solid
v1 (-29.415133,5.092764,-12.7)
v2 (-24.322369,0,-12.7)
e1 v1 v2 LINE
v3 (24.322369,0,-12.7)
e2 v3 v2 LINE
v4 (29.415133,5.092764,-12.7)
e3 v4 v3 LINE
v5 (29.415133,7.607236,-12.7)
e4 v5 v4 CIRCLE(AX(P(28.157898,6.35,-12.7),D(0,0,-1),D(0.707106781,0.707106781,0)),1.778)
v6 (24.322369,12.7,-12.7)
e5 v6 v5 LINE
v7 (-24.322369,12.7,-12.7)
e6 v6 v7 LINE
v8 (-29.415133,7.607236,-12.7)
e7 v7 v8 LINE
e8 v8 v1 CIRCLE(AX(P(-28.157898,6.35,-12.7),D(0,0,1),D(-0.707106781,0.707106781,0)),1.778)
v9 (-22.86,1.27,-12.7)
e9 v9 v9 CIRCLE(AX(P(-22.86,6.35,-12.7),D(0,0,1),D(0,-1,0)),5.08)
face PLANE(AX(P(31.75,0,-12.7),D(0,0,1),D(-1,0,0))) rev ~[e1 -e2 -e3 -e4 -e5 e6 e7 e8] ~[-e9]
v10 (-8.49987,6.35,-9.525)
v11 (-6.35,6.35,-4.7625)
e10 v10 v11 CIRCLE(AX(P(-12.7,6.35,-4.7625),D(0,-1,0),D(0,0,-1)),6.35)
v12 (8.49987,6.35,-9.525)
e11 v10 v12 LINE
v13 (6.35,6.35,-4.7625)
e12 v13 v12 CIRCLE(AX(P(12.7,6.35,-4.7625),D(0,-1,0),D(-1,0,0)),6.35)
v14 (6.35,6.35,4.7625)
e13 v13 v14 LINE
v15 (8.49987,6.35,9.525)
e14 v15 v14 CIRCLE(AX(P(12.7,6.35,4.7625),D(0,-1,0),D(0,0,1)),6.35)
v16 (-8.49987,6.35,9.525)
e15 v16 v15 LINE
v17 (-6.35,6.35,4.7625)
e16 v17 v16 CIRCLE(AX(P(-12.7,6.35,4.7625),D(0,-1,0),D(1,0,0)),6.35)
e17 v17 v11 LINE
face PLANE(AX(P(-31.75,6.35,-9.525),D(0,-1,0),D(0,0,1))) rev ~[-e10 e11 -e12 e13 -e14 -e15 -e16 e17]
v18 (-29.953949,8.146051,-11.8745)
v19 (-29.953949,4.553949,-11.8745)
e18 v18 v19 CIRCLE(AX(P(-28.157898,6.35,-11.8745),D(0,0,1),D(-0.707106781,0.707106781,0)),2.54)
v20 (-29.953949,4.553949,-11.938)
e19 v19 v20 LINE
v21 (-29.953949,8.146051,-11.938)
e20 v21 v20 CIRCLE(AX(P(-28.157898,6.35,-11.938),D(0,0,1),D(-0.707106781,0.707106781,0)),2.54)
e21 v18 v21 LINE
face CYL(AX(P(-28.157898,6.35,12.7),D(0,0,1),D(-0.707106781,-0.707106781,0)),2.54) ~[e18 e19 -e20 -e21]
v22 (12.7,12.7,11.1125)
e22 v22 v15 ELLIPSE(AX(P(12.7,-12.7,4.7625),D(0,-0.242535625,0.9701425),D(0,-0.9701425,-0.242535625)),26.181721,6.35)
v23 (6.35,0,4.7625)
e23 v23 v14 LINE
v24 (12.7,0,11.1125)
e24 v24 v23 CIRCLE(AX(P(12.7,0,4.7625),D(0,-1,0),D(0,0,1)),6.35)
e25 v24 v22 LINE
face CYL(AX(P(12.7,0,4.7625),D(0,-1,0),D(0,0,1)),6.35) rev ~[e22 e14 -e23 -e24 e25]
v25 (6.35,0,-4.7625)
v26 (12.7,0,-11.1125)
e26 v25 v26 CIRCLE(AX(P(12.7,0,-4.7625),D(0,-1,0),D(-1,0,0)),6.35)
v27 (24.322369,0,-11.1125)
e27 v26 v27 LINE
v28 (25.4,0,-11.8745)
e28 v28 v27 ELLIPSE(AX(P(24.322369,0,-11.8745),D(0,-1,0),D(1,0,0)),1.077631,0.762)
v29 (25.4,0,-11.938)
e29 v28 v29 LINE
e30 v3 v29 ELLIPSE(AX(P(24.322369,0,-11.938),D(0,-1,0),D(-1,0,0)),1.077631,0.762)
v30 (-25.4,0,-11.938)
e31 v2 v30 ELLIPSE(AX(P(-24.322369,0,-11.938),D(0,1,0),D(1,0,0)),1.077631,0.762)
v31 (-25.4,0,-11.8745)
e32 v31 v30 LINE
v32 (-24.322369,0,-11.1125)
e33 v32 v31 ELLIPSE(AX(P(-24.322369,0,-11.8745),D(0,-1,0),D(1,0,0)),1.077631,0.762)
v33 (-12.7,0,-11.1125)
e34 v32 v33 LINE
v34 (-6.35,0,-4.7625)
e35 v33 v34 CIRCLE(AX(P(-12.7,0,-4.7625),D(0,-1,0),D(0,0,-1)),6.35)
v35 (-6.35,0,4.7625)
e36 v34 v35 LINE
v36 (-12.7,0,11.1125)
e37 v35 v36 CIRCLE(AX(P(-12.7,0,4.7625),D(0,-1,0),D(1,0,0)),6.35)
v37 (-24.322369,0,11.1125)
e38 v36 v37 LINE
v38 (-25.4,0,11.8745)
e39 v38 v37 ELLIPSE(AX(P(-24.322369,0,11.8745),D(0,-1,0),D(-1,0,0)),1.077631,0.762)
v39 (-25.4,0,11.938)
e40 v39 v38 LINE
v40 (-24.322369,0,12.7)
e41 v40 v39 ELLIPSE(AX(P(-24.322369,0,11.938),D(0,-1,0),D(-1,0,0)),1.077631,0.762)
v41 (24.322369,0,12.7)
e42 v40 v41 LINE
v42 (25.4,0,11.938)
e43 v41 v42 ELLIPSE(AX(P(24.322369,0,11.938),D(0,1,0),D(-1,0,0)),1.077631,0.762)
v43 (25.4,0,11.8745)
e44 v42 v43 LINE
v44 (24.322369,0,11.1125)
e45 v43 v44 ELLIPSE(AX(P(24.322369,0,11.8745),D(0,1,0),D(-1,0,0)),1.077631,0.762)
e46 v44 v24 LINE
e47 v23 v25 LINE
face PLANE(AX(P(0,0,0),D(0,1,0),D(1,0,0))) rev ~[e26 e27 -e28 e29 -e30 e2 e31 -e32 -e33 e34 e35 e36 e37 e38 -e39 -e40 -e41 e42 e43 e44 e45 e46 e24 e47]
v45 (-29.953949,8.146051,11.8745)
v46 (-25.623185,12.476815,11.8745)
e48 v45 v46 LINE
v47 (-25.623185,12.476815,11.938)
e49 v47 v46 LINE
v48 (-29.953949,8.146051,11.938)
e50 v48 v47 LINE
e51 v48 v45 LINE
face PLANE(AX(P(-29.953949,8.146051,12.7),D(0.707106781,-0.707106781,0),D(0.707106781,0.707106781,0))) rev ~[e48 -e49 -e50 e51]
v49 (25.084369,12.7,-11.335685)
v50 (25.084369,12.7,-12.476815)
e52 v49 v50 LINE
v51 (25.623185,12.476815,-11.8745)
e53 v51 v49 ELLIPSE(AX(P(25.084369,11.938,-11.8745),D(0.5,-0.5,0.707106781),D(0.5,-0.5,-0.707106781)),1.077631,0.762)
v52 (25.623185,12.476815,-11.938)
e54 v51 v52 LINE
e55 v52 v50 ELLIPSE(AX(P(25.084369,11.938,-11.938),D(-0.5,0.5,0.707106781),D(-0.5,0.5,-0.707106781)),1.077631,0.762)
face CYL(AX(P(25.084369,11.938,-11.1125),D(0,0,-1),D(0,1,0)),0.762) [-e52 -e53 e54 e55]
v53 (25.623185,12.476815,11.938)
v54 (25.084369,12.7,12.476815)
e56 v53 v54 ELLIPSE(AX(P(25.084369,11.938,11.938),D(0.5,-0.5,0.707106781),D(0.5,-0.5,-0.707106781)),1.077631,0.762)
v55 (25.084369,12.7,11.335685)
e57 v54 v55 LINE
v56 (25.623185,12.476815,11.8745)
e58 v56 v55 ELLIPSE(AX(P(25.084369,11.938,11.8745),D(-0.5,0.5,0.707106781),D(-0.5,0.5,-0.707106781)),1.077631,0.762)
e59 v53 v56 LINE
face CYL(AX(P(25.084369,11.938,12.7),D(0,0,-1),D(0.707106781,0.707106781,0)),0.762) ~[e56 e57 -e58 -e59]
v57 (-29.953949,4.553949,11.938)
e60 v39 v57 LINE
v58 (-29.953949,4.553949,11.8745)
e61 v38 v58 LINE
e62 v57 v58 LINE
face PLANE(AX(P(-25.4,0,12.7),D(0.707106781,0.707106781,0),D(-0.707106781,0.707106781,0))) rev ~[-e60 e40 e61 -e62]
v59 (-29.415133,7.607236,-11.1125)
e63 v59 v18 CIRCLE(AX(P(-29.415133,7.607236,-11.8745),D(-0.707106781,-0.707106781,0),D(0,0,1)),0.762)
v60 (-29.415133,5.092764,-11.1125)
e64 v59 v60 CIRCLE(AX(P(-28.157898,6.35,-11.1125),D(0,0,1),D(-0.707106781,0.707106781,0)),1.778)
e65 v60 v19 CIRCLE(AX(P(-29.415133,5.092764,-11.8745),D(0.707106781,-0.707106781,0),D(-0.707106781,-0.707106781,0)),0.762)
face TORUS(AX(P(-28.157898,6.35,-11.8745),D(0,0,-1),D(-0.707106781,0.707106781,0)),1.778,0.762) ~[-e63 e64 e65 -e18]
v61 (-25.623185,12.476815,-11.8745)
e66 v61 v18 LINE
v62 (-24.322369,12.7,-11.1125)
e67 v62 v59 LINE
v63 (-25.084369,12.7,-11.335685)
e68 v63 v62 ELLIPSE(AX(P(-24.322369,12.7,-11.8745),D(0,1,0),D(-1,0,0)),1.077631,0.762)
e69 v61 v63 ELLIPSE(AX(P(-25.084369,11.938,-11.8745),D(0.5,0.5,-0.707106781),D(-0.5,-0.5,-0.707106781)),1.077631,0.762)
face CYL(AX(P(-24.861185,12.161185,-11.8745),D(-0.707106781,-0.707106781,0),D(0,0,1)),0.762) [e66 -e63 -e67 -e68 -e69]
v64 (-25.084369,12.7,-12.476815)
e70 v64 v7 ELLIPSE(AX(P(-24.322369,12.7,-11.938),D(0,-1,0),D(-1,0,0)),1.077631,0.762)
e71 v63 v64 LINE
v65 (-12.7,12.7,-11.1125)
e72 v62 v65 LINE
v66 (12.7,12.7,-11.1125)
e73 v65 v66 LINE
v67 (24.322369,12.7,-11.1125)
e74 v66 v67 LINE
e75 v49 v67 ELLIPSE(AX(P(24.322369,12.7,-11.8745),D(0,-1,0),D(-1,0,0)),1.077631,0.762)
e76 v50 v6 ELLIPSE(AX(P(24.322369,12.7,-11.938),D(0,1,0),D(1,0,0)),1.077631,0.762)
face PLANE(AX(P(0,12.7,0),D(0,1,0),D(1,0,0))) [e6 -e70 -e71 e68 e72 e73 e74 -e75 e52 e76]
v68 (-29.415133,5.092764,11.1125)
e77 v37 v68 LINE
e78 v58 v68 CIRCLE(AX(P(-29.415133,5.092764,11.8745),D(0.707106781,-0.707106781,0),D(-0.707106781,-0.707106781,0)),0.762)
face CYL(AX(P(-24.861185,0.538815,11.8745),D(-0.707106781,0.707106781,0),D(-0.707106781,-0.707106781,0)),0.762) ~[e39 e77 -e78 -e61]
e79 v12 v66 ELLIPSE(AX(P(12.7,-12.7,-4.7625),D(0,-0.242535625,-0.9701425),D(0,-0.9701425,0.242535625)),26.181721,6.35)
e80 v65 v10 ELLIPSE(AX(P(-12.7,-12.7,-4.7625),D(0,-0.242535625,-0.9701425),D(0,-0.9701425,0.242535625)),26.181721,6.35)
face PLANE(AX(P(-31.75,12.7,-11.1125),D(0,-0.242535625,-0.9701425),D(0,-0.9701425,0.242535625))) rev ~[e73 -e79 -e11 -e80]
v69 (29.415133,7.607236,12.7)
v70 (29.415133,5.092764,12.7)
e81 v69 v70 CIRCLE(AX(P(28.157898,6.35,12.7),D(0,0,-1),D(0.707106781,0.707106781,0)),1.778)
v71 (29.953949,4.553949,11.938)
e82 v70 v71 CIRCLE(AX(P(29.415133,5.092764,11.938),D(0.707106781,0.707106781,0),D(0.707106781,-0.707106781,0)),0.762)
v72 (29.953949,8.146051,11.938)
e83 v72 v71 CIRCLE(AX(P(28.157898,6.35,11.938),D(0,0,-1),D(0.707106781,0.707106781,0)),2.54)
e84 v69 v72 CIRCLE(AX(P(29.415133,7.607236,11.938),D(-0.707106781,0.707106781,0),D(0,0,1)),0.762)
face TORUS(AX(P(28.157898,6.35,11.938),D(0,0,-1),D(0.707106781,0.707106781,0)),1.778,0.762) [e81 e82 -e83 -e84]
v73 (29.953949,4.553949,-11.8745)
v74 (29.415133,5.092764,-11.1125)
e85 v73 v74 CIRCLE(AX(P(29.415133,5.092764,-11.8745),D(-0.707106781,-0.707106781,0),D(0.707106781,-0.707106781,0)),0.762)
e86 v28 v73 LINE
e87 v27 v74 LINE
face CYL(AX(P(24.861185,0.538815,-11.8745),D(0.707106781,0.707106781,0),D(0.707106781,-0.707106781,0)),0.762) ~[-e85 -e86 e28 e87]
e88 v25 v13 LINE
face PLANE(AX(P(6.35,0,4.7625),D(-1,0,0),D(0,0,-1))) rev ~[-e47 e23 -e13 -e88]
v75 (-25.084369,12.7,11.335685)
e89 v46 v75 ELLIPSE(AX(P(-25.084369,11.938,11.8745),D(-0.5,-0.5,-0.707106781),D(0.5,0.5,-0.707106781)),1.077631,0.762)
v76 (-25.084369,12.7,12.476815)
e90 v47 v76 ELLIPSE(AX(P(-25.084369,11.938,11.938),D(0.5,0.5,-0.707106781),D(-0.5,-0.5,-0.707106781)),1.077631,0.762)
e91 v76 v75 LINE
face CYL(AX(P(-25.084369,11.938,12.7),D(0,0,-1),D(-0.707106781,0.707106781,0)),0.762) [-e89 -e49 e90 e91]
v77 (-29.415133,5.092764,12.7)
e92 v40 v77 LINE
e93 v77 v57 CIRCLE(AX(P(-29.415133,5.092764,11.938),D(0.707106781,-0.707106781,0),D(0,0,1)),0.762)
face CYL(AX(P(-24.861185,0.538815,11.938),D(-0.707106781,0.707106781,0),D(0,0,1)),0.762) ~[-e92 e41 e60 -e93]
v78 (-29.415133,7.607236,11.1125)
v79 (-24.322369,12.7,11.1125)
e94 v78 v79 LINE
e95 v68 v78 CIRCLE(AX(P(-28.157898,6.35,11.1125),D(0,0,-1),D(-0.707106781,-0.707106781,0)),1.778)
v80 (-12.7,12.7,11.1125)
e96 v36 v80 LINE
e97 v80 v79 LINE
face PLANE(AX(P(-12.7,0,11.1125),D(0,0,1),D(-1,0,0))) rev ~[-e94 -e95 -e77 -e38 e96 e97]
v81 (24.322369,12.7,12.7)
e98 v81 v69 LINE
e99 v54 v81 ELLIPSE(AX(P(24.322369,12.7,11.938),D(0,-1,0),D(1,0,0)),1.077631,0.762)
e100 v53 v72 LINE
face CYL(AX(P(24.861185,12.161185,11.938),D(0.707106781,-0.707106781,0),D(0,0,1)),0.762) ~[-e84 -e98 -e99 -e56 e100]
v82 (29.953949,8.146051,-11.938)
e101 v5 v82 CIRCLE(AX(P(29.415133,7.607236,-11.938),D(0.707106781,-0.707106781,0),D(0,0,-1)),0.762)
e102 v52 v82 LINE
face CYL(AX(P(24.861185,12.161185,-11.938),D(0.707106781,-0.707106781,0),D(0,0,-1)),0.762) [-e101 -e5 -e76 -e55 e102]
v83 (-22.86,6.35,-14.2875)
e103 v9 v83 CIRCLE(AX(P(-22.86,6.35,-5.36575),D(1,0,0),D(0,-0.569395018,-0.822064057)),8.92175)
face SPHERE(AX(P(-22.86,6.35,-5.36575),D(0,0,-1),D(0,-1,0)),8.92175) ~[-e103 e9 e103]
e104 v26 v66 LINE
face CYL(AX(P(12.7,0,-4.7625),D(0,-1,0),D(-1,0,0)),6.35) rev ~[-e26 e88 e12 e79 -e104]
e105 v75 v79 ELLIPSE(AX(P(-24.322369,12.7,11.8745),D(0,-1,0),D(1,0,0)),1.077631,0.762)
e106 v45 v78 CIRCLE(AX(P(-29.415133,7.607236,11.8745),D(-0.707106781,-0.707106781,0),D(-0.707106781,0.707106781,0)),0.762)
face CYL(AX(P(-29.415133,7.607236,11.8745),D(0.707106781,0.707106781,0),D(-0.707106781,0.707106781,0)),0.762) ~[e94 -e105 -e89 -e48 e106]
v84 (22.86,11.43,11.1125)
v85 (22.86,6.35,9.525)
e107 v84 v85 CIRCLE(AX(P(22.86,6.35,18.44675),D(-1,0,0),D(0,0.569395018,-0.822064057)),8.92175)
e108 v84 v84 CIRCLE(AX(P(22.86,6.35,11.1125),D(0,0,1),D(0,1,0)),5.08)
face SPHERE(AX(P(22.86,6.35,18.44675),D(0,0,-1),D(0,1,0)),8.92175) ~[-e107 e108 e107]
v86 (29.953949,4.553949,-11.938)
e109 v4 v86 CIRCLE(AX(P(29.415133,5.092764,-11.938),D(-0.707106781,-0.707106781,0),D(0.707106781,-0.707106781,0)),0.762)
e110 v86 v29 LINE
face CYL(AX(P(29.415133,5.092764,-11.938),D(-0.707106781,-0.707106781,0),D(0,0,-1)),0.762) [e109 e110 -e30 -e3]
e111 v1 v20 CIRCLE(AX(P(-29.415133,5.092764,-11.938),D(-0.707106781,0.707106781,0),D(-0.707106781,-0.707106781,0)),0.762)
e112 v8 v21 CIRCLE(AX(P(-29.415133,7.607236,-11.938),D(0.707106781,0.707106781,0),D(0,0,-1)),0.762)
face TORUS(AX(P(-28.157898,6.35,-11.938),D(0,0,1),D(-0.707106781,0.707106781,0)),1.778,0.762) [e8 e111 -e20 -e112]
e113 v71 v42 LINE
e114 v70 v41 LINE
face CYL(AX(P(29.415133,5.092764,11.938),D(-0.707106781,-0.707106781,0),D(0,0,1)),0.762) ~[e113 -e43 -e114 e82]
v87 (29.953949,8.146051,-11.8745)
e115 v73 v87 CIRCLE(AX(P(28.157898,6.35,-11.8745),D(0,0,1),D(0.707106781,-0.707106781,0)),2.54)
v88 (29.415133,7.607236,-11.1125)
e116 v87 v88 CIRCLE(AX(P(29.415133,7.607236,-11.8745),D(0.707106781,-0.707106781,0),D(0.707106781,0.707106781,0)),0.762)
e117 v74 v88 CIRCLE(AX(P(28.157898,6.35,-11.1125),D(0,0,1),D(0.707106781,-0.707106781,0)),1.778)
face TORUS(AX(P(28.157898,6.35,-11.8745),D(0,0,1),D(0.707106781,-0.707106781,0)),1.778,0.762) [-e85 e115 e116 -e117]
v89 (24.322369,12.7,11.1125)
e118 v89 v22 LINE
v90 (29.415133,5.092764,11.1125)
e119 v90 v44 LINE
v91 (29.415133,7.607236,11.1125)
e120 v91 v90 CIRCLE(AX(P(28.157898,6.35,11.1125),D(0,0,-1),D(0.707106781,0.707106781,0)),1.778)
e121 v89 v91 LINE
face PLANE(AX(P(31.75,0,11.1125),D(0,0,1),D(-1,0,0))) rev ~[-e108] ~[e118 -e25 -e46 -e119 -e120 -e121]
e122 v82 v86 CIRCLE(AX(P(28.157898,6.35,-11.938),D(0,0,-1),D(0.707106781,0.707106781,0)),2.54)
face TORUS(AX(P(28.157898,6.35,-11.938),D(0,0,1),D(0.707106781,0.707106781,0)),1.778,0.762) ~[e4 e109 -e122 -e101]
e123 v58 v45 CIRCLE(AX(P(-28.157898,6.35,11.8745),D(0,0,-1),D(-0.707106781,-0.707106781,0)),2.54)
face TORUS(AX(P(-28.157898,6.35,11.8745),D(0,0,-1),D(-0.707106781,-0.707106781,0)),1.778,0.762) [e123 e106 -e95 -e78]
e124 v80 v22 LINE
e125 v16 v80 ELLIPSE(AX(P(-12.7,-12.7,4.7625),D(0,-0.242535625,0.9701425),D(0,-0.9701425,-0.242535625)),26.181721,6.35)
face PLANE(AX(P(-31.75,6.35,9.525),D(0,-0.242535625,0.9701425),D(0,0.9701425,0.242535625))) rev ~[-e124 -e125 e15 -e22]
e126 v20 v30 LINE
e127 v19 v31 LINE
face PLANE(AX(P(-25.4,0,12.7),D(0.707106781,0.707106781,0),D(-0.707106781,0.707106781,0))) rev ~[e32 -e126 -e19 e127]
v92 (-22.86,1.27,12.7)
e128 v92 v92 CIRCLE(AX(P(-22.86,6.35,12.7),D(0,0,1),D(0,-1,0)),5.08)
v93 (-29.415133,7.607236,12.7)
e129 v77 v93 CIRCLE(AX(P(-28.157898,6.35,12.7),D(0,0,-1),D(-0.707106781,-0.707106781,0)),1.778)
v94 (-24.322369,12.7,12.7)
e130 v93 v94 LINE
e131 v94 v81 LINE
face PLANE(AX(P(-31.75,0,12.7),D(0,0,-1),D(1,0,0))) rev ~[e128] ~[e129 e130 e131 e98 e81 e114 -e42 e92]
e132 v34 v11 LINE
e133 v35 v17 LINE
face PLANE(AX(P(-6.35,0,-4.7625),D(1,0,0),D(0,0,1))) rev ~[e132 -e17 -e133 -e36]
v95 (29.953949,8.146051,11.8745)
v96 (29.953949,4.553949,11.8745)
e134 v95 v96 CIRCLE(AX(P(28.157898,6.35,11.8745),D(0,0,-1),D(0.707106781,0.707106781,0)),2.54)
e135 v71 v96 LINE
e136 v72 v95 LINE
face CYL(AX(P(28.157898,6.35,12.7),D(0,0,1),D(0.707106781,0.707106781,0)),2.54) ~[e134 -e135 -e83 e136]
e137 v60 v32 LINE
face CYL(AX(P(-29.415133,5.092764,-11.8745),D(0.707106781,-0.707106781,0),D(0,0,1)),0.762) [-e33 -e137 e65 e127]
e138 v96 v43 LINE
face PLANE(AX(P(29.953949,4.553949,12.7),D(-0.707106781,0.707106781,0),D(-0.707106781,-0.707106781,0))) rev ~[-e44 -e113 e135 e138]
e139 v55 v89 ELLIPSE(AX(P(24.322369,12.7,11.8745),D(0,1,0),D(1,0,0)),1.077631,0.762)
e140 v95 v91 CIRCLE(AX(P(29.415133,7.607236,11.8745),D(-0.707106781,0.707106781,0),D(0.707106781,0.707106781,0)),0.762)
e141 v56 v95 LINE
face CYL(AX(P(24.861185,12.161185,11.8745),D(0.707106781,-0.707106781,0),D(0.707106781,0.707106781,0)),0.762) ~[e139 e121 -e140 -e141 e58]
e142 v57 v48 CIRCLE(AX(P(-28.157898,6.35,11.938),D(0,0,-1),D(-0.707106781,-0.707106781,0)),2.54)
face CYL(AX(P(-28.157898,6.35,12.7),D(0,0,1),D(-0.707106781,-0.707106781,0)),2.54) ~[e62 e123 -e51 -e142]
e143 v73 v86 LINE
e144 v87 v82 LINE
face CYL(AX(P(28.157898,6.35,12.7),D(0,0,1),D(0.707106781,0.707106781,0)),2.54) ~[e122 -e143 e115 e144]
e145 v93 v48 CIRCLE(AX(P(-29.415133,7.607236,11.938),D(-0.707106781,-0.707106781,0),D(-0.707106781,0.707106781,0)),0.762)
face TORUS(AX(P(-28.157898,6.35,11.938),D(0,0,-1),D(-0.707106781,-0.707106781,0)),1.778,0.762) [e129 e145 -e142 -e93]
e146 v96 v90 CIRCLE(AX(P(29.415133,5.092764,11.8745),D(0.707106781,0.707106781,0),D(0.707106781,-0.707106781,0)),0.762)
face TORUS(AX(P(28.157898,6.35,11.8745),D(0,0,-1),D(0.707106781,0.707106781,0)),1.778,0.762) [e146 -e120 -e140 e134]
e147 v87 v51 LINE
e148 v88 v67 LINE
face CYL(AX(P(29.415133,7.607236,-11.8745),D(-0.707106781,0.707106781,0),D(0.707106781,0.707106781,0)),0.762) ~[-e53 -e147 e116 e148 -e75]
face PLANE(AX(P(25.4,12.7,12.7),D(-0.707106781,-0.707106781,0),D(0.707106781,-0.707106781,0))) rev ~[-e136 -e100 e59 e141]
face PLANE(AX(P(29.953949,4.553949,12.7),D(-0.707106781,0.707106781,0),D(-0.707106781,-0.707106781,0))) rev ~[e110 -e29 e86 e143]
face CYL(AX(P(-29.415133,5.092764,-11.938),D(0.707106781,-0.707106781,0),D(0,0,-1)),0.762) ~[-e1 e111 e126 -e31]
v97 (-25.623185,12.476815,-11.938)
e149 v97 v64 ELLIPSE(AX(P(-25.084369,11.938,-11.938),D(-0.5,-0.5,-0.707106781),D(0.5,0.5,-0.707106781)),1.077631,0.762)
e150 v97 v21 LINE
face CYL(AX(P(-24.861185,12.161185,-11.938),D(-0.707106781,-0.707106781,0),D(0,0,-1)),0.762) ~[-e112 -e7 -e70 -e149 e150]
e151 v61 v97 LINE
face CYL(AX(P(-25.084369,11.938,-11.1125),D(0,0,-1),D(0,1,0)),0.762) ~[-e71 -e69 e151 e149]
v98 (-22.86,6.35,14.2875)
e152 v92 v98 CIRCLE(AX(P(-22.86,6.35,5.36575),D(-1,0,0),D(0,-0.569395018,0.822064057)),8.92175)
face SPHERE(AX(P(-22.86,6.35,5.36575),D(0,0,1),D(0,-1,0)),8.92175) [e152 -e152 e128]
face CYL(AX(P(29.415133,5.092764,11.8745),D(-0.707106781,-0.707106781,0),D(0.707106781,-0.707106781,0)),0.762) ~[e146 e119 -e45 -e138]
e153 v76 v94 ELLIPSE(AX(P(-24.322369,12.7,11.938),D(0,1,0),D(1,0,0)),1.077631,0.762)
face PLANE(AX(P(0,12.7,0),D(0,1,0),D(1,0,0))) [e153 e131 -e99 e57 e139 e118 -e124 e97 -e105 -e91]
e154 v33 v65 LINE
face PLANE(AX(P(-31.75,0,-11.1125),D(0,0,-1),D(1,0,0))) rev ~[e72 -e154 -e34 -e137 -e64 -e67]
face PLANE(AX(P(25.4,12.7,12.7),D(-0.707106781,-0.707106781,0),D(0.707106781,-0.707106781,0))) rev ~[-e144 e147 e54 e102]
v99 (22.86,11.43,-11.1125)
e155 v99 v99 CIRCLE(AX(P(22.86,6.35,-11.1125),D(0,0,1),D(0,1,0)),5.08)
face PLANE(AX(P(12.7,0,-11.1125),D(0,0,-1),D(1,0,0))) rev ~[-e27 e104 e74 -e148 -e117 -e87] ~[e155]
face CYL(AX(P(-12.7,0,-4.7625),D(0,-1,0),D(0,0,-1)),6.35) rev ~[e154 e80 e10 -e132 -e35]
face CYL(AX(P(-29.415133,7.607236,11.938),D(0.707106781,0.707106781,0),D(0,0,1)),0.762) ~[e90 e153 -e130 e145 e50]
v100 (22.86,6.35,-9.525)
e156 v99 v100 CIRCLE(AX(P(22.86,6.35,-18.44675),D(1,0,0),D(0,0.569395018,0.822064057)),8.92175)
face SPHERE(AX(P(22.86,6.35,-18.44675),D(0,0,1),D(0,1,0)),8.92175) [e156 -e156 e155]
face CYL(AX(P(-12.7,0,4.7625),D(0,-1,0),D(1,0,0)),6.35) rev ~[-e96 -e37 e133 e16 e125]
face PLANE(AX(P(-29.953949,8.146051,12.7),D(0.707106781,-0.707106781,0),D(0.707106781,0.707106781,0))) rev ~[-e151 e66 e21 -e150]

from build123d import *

# Parameters (mm, degrees)
BOSS_EXTRUDE1_DEPTH = 12.7
CUT_EXTRUDE2_DEPTH  = 66.991135768
CUT_EXTRUDE1_DEPTH  = 43.597094971
FILLET1_R           = 0.762


with BuildPart() as part:
    # Sketch1 → Boss-Extrude1 (new body)
    with BuildSketch(Plane(origin=(0, 0, 0), x_dir=(1, 0, 0), z_dir=(0, 1, 0))):
        with BuildLine():
            Line((-31.75, -12.7), (31.75, -12.7))
            Line((31.75, -12.7), (31.75, -11.1125))
            Line((31.75, -11.1125), (12.7, -11.1125))
            ThreePointArc((12.7, -11.1125), (8.209871939, -9.252628061), (6.35, -4.7625))
            Line((6.35, -4.7625), (6.35, 4.7625))
            ThreePointArc((6.35, 4.7625), (8.209871939, 9.252628061), (12.7, 11.1125))
            Line((12.7, 11.1125), (31.75, 11.1125))
            Line((31.75, 11.1125), (31.75, 12.7))
            Line((31.75, 12.7), (-31.75, 12.7))
            Line((-31.75, 12.7), (-31.75, 11.1125))
            Line((-31.75, 11.1125), (-12.7, 11.1125))
            ThreePointArc((-12.7, 11.1125), (-8.209871939, 9.252628061), (-6.35, 4.7625))
            Line((-6.35, 4.7625), (-6.35, -4.7625))
            ThreePointArc((-6.35, -4.7625), (-8.209871939, -9.252628061), (-12.7, -11.1125))
            Line((-12.7, -11.1125), (-31.75, -11.1125))
            Line((-31.75, -11.1125), (-31.75, -12.7))
        make_face()
    extrude(amount=BOSS_EXTRUDE1_DEPTH)

    # Sketch3 → Cut-Extrude2 (cut, through all)
    with BuildSketch(Plane.ZY.offset(31.75)):
        Polygon((11.1125, 12.7), (4.7625, 12.7), (-4.7625, 12.7), (-11.1125, 12.7), (-9.525, 6.35), (9.525, 6.35), align=None)
    extrude(amount=-CUT_EXTRUDE2_DEPTH, mode=Mode.SUBTRACT)

    # Sketch2 → Cut-Extrude1 (cut, through all)
    with BuildSketch(Plane.XY.offset(12.7)):
        with BuildLine():
            ThreePointArc((-29.953948776, 4.553948776), (-30.697897552, 6.35), (-29.953948776, 8.146051224))
            Line((-29.953948776, 8.146051224), (-25.4, 12.7))
            Line((-25.4, 12.7), (-31.75, 12.7))
            Line((-31.75, 12.7), (-31.75, 0))
            Line((-31.75, 0), (-25.4, 0))
            Line((-25.4, 0), (-29.953948776, 4.553948776))
        make_face()
        with BuildLine():
            Line((31.75, 12.7), (25.4, 12.7))
            Line((25.4, 12.7), (29.953948776, 8.146051224))
            ThreePointArc((29.953948776, 8.146051224), (30.697897552, 6.35), (29.953948776, 4.553948776))
            Line((29.953948776, 4.553948776), (25.4, 0))
            Line((25.4, 0), (31.75, 0))
            Line((31.75, 0), (31.75, 12.7))
        make_face()
    extrude(amount=-CUT_EXTRUDE1_DEPTH, mode=Mode.SUBTRACT)

    # Sketch4 → Revolve1 (revolve)
    with BuildSketch(Plane.ZY.offset(22.86), mode=Mode.PRIVATE) as revolve1_sk:
        with BuildLine():
            Line((12.7, 6.35), (12.7, 11.43))
            ThreePointArc((12.7, 11.43), (13.881381744, 9.01113492), (14.2875, 6.35))
            Line((14.2875, 6.35), (12.7, 6.35))
        make_face()
    revolve1 = revolve(revolve1_sk.sketch.rotate(Axis((-22.86, 6.35, 0), (0, 0, 1)), 180), axis=Axis((-22.86, 6.35, 0), (0, 0, 1)))

    # Mirror1: Revolve1 across plane
    add(revolve1.mirror(Plane.XY))

    # Sketch5 → Revolve2 (revolve)
    with BuildSketch(Plane(origin=(22.86, 0, 0), x_dir=(0, 0, -1), z_dir=(1, 0, 0))):
        with BuildLine():
            Line((11.1125, 6.35), (11.1125, 11.43))
            ThreePointArc((11.1125, 11.43), (9.931118256, 9.01113492), (9.525, 6.35))
            Line((9.525, 6.35), (11.1125, 6.35))
        make_face()
    revolve2 = revolve(axis=Axis((22.86, 6.35, -9.525), (0, 0, 1)))

    # Mirror2: Revolve2 across plane
    add(revolve2.mirror(Plane.XY))

    # Fillet1
    fillet1_edges = [part.edges().sort_by_distance(p)[0] for p in [
        (-27.676974388, 10.423025612, 11.1125),
        (-25.4, 12.7, 11.90625),
        (-27.676974388, 2.276974388, 12.7),
        (-30.697897552, 6.35, -11.1125),
        (-30.697897552, 6.35, 11.1125),
        (-27.676974388, 2.276974388, -11.1125),
        (-27.676974388, 2.276974388, 11.1125),
        (-30.697897552, 6.35, -12.7),
        (-27.676974388, 2.276974388, -12.7),
        (-27.676974388, 10.423025612, 12.7),
        (30.697897552, 6.35, 12.7),
        (25.4, 12.7, 11.90625),
        (25.4, 12.7, -11.90625),
        (27.676974388, 10.423025612, 12.7),
        (27.676974388, 2.276974388, 11.1125),
        (27.676974388, 2.276974388, -11.1125),
        (27.676974388, 2.276974388, -12.7),
        (30.697897552, 6.35, 11.1125),
        (27.676974388, 10.423025612, 11.1125),
        (27.676974388, 10.423025612, -11.1125),
        (30.697897552, 6.35, -12.7),
        (27.676974388, 10.423025612, -12.7),
        (27.676974388, 2.276974388, 12.7),
        (30.697897552, 6.35, -11.1125),
        (-30.697897552, 6.35, 12.7),
        (-25.4, 12.7, -11.90625),
        (-27.676974388, 10.423025612, -11.1125),
        (-27.676974388, 10.423025612, -12.7),
    ]]
    fillet(fillet1_edges, radius=FILLET1_R)


solid = part.part
